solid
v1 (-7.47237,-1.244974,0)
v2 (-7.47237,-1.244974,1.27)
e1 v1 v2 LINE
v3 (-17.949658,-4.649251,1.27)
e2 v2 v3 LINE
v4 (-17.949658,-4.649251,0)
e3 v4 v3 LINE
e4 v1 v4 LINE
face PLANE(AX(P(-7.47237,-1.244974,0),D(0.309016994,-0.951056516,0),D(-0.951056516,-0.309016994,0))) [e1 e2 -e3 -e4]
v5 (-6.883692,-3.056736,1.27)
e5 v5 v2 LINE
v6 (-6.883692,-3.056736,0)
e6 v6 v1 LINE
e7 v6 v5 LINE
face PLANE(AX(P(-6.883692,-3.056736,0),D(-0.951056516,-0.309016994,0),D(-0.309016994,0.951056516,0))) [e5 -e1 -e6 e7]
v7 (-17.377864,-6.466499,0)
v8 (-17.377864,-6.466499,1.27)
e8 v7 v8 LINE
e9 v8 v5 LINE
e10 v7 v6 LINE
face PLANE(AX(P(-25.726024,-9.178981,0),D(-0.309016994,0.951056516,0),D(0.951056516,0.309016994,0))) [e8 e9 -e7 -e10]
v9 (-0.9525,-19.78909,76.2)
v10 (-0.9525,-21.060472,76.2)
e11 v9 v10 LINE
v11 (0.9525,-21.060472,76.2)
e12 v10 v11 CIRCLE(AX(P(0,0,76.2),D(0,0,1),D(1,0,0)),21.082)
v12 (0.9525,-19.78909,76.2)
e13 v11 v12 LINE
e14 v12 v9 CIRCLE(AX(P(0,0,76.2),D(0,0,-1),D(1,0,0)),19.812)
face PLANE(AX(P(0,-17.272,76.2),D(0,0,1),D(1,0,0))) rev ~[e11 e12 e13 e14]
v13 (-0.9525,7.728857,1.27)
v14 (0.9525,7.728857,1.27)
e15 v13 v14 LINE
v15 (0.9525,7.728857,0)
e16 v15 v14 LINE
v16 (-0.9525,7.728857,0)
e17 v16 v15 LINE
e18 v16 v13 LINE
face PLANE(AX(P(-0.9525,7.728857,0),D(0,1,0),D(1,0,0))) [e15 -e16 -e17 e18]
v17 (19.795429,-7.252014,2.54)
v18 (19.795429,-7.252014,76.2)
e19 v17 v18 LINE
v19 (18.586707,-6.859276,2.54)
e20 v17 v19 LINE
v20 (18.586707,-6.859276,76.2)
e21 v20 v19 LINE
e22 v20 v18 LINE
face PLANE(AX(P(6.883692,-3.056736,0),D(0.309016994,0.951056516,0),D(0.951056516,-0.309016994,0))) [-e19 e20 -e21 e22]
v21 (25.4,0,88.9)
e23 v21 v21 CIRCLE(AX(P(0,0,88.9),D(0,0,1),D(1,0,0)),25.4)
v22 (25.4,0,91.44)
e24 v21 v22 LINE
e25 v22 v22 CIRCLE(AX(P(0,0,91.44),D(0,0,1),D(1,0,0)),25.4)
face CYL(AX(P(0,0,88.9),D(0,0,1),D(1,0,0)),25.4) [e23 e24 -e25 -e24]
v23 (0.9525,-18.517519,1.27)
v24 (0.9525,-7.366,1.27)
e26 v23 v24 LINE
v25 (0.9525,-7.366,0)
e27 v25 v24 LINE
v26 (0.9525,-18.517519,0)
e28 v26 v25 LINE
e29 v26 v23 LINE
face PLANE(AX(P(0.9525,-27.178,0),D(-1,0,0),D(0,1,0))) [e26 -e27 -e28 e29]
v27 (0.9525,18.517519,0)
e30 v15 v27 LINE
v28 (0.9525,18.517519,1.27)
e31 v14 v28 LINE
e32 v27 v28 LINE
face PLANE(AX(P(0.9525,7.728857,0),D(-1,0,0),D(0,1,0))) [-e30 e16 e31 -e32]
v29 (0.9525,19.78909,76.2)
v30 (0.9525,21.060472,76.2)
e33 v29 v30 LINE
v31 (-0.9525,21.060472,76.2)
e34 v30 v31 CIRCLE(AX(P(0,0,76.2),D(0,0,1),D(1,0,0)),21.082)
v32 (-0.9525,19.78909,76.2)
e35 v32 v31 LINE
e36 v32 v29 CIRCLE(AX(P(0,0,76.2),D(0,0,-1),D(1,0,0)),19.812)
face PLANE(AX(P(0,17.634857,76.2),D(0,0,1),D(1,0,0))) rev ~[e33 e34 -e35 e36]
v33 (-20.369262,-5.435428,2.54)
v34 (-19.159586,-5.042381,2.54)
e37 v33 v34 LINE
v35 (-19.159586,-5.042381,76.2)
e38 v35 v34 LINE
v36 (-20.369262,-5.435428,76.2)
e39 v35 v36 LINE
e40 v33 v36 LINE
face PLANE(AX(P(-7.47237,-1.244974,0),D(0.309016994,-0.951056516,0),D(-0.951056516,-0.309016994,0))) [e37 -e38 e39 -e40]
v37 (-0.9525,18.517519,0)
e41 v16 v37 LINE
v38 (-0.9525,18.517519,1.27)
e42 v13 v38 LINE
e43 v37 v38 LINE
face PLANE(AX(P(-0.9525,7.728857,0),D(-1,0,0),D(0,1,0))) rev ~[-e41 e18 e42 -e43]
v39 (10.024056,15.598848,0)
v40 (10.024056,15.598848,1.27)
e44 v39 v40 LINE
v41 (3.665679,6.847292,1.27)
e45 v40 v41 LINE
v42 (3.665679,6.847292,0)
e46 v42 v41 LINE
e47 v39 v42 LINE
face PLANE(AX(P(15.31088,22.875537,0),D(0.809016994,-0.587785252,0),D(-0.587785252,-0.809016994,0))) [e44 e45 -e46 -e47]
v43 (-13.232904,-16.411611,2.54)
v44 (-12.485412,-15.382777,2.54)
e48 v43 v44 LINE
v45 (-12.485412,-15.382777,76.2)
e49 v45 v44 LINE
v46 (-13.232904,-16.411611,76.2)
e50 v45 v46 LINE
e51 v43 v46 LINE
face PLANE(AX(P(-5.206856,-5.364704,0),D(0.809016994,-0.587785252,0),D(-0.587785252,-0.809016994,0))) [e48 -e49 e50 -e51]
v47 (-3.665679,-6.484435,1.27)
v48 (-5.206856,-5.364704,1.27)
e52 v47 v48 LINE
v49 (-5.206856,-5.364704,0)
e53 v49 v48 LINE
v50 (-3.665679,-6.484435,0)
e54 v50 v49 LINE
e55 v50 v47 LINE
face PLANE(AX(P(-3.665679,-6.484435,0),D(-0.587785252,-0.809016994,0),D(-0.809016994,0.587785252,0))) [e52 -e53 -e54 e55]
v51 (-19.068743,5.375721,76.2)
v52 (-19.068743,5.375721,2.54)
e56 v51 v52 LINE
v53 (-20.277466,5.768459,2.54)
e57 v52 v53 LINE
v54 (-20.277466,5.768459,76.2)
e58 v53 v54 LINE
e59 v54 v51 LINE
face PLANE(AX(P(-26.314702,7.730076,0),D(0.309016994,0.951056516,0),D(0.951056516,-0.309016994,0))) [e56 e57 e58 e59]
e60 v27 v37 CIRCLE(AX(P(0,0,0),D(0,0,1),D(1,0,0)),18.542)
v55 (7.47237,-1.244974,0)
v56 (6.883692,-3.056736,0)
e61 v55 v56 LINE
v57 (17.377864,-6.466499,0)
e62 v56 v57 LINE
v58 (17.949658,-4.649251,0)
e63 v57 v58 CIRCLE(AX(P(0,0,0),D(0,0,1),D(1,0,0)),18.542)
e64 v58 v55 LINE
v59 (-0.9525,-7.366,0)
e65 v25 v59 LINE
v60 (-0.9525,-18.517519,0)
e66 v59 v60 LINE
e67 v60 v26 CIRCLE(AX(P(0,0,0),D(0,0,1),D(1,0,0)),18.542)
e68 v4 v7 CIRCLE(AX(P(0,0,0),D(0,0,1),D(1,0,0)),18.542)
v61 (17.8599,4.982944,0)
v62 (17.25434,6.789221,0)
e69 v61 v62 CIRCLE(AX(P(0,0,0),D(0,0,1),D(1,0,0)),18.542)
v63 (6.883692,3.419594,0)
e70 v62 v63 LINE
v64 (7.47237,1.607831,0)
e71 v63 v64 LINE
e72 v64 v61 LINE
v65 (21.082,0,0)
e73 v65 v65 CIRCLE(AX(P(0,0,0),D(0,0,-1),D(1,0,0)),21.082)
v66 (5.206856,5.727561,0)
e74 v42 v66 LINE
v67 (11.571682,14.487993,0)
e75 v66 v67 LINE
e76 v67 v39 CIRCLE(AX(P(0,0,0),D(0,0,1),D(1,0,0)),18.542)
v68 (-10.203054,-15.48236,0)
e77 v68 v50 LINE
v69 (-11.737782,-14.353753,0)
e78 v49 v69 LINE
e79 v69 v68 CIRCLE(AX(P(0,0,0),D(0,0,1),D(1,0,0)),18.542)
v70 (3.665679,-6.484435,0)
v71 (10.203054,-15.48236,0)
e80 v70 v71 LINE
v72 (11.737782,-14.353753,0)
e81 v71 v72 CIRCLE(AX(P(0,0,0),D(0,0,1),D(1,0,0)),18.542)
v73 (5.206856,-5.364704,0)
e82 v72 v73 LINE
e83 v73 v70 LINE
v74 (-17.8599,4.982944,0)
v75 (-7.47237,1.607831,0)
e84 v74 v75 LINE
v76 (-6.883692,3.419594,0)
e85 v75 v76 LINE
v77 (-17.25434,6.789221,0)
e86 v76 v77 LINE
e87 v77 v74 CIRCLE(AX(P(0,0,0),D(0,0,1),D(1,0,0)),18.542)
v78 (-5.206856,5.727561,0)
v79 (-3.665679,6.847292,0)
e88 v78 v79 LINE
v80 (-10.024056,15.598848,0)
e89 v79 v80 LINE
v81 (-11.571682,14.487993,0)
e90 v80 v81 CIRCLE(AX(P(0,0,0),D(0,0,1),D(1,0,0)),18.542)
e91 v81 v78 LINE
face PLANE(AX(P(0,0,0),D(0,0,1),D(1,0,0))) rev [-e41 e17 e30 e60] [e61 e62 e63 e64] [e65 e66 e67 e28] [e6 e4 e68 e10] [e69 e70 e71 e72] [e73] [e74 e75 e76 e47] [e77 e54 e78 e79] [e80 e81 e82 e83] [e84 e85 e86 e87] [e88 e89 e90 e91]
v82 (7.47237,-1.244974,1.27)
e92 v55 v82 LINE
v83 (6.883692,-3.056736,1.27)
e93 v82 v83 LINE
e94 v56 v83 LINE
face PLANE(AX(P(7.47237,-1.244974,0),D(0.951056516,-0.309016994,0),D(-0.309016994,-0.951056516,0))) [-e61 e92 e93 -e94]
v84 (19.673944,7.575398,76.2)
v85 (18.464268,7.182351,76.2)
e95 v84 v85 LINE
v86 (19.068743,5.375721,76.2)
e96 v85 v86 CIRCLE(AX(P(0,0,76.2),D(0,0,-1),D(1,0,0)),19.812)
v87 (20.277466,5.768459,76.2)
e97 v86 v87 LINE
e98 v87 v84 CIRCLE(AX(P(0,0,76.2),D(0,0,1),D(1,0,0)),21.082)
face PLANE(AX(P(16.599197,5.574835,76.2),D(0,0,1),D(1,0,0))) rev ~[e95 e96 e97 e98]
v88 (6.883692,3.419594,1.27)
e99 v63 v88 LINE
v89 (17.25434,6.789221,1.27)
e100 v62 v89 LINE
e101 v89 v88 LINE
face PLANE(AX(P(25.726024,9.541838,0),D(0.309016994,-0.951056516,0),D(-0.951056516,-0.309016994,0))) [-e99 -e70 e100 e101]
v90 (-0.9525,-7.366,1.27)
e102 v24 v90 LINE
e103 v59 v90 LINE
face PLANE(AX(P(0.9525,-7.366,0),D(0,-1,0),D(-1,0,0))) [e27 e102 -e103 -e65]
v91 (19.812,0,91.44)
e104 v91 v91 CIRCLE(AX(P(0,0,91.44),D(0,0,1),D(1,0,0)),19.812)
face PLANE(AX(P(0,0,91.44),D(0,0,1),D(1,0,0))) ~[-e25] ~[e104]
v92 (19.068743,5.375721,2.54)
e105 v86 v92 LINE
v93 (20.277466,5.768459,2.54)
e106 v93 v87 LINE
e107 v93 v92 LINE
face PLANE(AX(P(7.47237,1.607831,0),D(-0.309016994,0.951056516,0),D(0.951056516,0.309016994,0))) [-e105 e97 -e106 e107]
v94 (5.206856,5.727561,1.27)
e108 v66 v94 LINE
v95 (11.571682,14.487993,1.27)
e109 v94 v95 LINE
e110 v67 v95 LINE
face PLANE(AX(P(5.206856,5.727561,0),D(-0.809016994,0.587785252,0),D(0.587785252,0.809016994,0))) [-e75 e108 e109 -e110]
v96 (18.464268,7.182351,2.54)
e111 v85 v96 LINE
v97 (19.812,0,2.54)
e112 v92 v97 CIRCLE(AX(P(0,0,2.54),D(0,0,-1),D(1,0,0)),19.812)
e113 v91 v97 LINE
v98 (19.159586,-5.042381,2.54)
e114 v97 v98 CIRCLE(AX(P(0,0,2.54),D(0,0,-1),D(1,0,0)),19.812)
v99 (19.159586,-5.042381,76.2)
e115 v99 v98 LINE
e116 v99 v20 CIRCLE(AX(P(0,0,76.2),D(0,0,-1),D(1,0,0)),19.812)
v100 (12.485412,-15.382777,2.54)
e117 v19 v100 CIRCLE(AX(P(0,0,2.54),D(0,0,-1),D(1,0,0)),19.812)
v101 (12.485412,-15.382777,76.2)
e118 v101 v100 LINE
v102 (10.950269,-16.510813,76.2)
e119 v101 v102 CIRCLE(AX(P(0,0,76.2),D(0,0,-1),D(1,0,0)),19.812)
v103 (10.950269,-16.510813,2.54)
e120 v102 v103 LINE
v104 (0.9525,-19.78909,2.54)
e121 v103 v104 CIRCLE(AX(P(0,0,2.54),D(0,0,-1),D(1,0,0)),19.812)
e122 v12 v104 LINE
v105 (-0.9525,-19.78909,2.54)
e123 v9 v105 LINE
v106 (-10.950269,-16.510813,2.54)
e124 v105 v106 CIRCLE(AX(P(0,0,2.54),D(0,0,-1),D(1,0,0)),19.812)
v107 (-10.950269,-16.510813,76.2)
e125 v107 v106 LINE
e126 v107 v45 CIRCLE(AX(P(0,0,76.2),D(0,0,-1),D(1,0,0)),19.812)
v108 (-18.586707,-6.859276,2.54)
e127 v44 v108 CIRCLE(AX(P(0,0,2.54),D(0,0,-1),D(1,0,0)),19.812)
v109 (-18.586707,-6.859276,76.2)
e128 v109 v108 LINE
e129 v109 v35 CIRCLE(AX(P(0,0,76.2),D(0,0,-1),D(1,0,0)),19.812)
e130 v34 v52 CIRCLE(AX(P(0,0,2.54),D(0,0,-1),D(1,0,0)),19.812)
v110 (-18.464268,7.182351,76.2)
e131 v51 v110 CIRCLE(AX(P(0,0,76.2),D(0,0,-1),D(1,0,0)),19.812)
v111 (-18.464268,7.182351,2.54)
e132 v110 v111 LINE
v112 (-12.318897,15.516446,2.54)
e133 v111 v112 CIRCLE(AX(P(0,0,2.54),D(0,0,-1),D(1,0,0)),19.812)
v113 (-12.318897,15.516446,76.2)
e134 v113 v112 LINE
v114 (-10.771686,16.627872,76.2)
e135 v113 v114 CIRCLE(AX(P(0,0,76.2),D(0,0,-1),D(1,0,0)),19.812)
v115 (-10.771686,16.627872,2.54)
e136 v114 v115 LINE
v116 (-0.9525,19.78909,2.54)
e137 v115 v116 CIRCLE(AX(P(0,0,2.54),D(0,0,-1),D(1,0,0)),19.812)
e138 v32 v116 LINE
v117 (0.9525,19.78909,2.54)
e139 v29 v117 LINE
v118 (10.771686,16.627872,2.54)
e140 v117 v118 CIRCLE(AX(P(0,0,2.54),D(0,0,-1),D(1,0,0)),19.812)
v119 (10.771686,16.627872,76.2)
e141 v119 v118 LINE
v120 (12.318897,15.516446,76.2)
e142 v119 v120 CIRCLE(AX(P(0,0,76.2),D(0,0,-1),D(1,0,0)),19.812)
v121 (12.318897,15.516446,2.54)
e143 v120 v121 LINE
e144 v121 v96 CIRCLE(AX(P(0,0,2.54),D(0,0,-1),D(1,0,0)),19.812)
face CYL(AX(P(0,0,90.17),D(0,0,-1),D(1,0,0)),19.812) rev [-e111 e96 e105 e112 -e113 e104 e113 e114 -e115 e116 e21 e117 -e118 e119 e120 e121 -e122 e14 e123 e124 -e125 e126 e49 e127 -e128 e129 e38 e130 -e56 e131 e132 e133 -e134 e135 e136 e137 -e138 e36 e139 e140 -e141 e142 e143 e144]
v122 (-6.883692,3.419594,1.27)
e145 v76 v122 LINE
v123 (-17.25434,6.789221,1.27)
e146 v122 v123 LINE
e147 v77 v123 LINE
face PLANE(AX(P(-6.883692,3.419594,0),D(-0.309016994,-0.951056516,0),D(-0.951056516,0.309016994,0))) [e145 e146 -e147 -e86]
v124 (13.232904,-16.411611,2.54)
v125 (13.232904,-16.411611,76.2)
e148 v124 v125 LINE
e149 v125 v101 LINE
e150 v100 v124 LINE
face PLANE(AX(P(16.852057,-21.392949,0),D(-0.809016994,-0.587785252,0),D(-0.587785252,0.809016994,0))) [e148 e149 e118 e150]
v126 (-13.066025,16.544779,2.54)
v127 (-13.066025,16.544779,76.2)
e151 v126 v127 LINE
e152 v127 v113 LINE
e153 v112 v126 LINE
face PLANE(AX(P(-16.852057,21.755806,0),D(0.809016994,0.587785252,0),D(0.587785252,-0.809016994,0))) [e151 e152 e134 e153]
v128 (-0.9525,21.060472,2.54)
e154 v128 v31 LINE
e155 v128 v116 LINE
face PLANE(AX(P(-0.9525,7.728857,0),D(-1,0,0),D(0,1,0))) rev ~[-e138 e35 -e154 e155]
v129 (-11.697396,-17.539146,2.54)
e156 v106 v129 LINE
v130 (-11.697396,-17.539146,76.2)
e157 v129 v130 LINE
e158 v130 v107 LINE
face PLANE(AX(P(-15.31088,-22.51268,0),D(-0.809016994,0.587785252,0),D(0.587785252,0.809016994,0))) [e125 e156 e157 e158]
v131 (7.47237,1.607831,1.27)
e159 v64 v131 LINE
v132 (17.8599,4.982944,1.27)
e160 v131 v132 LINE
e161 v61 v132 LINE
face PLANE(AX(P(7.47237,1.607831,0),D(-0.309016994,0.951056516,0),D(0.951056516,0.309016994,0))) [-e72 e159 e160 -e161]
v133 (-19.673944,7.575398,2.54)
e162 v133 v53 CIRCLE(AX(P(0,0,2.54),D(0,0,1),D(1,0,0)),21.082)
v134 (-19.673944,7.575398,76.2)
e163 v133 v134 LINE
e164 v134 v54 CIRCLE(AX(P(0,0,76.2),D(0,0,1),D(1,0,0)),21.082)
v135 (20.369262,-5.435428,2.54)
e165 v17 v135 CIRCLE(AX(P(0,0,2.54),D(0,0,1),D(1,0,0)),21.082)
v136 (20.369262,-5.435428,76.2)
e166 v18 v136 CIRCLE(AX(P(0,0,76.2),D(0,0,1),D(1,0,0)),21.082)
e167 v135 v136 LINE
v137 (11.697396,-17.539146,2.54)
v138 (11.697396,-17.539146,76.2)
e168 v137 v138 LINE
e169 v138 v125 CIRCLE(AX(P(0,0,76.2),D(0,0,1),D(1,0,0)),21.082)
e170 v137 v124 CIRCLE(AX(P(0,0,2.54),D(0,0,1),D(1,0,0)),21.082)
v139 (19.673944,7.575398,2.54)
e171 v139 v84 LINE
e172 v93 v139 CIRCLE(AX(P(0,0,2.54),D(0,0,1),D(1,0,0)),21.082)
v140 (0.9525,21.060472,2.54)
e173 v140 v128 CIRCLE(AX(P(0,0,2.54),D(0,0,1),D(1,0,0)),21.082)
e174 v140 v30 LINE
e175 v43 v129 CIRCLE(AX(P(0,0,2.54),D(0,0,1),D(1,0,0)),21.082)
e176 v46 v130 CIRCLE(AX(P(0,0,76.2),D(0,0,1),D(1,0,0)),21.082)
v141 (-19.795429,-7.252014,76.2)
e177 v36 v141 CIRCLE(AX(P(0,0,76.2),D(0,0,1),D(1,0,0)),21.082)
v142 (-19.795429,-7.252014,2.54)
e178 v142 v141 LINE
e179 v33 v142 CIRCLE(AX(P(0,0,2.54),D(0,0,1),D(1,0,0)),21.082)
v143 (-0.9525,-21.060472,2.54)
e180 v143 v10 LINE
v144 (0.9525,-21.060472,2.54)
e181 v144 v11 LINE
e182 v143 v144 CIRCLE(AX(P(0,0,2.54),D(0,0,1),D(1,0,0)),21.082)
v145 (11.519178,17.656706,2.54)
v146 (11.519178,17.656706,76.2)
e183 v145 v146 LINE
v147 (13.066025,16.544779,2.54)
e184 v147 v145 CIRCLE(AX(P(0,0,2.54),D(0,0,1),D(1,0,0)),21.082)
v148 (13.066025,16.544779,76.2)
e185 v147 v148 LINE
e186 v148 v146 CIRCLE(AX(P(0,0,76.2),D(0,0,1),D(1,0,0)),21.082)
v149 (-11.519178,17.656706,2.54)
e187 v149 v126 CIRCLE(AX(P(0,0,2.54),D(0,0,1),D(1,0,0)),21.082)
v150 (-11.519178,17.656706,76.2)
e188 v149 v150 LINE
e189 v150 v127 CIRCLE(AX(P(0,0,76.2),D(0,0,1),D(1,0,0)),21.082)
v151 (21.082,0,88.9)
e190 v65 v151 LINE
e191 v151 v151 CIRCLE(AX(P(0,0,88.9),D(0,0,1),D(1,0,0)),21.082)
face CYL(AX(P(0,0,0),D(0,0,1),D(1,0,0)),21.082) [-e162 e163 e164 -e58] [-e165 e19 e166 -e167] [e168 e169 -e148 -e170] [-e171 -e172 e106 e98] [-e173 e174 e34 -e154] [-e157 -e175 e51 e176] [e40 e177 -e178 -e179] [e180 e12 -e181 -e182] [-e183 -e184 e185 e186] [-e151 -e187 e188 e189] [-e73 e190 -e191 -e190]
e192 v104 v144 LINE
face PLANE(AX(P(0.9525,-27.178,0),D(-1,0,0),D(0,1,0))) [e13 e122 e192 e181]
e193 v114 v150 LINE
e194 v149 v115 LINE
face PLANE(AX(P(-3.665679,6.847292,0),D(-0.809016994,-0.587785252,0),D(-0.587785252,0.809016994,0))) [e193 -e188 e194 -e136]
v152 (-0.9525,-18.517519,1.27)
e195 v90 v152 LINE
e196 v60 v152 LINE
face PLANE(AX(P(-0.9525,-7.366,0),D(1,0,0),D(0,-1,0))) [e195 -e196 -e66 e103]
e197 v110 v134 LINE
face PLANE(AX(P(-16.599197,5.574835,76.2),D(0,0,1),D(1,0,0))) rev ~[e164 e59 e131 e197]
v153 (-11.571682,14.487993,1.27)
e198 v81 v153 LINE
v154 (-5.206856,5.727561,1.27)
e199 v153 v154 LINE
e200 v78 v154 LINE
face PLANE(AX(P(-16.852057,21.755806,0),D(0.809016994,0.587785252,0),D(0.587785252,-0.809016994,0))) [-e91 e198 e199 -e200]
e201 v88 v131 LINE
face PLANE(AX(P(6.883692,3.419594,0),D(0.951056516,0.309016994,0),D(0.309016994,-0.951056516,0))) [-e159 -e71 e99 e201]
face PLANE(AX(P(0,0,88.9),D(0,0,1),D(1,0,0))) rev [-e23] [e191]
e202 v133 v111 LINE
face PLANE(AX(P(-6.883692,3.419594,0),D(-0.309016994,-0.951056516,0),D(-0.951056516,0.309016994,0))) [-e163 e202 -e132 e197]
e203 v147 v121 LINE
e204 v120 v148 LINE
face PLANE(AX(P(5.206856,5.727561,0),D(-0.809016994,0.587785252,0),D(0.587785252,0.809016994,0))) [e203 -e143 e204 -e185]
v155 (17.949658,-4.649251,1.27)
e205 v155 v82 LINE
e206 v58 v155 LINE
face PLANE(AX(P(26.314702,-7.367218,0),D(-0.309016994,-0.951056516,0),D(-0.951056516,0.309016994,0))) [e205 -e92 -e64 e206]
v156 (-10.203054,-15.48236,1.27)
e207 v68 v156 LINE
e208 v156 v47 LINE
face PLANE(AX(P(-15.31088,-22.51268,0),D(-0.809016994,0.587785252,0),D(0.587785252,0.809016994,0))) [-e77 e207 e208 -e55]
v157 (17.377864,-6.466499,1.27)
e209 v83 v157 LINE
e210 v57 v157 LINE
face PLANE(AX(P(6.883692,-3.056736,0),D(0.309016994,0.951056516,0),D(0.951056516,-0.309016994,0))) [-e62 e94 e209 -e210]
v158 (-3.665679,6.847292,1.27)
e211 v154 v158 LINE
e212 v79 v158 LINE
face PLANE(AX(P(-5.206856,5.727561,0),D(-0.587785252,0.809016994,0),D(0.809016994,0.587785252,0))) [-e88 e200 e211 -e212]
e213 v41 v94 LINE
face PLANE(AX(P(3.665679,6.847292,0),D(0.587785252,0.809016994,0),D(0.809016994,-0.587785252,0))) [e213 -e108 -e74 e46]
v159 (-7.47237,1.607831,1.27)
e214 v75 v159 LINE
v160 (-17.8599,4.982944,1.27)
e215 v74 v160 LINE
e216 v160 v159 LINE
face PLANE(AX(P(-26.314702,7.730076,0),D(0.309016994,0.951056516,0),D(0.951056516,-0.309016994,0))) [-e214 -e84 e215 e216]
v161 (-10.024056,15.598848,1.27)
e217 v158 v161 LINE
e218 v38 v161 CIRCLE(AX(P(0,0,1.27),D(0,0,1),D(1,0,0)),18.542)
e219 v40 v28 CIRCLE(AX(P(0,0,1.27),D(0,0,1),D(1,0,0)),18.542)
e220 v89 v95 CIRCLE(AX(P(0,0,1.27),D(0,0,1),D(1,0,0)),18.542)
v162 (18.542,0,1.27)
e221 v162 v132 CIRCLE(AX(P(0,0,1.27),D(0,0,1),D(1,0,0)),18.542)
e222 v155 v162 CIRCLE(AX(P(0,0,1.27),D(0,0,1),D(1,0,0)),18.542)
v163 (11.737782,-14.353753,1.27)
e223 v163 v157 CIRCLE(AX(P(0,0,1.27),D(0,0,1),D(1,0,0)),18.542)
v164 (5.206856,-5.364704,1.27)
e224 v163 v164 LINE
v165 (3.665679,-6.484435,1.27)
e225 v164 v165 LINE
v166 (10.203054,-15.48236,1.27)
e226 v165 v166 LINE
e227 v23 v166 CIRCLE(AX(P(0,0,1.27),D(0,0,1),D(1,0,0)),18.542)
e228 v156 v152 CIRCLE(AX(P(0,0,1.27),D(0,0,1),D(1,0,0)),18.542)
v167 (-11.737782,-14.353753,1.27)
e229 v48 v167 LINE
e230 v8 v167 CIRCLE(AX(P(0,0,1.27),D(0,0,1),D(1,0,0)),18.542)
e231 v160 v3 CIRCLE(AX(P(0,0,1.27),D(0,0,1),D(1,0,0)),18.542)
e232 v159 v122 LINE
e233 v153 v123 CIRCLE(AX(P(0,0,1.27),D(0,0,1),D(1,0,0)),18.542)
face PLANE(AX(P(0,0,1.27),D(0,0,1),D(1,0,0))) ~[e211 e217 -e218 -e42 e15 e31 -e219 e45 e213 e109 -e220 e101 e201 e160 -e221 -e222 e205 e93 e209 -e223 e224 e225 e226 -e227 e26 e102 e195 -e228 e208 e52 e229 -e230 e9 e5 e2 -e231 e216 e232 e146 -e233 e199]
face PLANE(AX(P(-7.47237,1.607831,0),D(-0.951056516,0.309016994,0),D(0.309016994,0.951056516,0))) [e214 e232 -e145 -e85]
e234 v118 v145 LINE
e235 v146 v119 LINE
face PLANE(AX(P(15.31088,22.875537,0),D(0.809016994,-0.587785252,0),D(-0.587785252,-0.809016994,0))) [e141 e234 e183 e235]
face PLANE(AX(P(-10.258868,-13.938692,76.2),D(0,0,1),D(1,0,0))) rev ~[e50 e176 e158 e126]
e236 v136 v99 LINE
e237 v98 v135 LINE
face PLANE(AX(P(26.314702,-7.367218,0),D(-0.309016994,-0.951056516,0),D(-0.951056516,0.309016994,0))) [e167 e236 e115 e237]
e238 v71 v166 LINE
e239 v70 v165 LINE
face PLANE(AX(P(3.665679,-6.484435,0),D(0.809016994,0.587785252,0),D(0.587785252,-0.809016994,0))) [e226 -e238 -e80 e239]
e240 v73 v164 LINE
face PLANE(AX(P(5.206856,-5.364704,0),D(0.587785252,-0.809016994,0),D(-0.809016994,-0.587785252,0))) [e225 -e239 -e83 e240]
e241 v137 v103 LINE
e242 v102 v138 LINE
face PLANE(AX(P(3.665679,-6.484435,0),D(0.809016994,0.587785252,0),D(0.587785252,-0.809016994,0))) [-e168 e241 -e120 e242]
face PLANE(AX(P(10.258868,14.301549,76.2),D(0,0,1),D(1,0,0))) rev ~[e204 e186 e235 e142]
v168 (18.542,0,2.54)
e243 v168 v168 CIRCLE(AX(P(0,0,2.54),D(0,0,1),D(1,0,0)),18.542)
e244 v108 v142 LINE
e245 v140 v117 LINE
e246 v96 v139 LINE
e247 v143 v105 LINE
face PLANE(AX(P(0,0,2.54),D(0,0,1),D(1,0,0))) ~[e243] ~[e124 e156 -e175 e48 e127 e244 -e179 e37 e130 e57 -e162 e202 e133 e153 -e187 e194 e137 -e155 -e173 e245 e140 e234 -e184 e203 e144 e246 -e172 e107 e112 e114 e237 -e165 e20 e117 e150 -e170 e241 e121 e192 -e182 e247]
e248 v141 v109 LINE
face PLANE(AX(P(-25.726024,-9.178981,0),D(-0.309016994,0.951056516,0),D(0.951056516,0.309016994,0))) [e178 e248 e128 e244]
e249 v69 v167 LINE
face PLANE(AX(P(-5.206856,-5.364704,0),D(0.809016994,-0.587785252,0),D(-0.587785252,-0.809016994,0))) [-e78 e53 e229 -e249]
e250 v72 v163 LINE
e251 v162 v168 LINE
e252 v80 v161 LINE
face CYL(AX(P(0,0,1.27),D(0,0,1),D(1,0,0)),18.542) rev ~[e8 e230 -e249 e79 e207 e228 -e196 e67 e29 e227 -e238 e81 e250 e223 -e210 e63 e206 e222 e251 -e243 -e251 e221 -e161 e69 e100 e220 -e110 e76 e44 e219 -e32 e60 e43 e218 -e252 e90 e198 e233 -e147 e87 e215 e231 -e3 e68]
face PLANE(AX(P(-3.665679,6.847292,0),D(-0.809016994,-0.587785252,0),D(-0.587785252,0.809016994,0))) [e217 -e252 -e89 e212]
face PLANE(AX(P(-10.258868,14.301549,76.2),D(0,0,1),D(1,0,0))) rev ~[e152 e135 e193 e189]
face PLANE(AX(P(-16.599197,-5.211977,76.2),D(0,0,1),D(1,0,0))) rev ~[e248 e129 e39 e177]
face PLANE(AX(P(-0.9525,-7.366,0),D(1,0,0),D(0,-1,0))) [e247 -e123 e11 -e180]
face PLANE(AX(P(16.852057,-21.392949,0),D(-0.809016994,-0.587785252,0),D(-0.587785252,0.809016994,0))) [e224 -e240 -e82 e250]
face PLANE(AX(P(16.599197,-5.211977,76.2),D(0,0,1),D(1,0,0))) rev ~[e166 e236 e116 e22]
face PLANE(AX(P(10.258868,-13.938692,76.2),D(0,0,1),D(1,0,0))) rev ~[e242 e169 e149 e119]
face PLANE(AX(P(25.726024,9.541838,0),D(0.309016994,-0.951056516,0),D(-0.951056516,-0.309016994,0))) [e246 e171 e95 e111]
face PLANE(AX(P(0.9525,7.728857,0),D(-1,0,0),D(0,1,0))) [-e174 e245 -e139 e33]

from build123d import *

# Parameters (mm, degrees)
F2_T     = -1.27
F3_DEPTH = 1.27
F5_R     = 19.685
F6_DEPTH = 25.4
F7_W     = 1.905
F7_H     = 19.812
F8_DEPTH = 76.2
F9_W     = 2.54
F9_H     = 2.54


with BuildPart() as f1:
    # F0 (on Front) → F1 (revolve)
    with BuildSketch(Plane.XZ):
        Polygon((0, 2.54), (0, 0), (21.082, 0), (21.082, 88.9), (0, 88.9), align=None)
        Polygon((0, 91.44), (0, 88.9), (21.082, 88.9), (25.4, 88.9), (25.4, 91.44), align=None)
    revolve(axis=Axis((0, 0, 44.45), (0, 0, 1)))

    # F2
    f2_openings = [f1.faces().sort_by_distance(p)[0] for p in [
        (0, 0, 91.44),
    ]]
    offset(amount=F2_T, openings=f2_openings, kind=Kind.INTERSECTION)

    # F3 (add): a face of the model
    f3_faces = [f1.faces().sort_by_distance(p)[0] for p in [
        (-23.4475005348, 0, 90.17),
    ]]
    extrude(f3_faces, amount=F3_DEPTH)

    # F5 (on offset) → F6 (cut)
    with BuildSketch(Plane.XY.offset(88.9)):
        Circle(F5_R)
    extrude(amount=F6_DEPTH, mode=Mode.SUBTRACT)

    # F7 (on Top) → F8 (cut)
    with BuildSketch(Plane.XY):
        Polygon((0.9525, -27.178), (0.9525, -7.366), (0, -7.366), (-0.9525, -7.366), (-0.9525, -27.178), align=None)
        Polygon((5.2068558942, -5.3647039539), (3.6656785199, -6.4844348595), (15.3108799383, -22.5126795521), (16.8520573126, -21.3929486464), align=None)
        Polygon((7.4723698113, -1.2449737892), (6.883692437, -3.0567364527), (25.7260241378, -9.1789811453), (26.3147015121, -7.3672184818), align=None)
        Polygon((6.883692437, 3.4195935956), (7.4723698113, 1.6078309321), (26.3147015121, 7.7300756246), (25.7260241378, 9.5418382882), align=None)
        Polygon((3.6656785199, 6.8472920024), (5.2068558942, 5.7275610967), (16.8520573126, 21.7558057893), (15.3108799383, 22.8755366949), align=None)
        with Locations((0, 17.6348571429)):
            Rectangle(F7_W, F7_H)
        Polygon((-5.2068558942, 5.7275610967), (-3.6656785199, 6.8472920024), (-15.3108799383, 22.8755366949), (-16.8520573126, 21.7558057893), align=None)
        Polygon((-7.4723698113, 1.6078309321), (-6.883692437, 3.4195935956), (-25.7260241378, 9.5418382882), (-26.3147015121, 7.7300756246), align=None)
        Polygon((-6.883692437, -3.0567364527), (-7.4723698113, -1.2449737892), (-26.3147015121, -7.3672184818), (-25.7260241378, -9.1789811453), align=None)
        Polygon((-3.6656785199, -6.4844348595), (-5.2068558942, -5.3647039539), (-16.8520573126, -21.3929486464), (-15.3108799383, -22.5126795521), align=None)
    extrude(amount=F8_DEPTH, mode=Mode.SUBTRACT)

    # F9 (on Front) → F10 (revolve)
    with BuildSketch(Plane.XZ):
        with Locations((19.812, 1.27)):
            Rectangle(F9_W, F9_H)
    revolve(axis=Axis((0, 0, 1.27), (0, 0, 1)))


solid = f1.part
